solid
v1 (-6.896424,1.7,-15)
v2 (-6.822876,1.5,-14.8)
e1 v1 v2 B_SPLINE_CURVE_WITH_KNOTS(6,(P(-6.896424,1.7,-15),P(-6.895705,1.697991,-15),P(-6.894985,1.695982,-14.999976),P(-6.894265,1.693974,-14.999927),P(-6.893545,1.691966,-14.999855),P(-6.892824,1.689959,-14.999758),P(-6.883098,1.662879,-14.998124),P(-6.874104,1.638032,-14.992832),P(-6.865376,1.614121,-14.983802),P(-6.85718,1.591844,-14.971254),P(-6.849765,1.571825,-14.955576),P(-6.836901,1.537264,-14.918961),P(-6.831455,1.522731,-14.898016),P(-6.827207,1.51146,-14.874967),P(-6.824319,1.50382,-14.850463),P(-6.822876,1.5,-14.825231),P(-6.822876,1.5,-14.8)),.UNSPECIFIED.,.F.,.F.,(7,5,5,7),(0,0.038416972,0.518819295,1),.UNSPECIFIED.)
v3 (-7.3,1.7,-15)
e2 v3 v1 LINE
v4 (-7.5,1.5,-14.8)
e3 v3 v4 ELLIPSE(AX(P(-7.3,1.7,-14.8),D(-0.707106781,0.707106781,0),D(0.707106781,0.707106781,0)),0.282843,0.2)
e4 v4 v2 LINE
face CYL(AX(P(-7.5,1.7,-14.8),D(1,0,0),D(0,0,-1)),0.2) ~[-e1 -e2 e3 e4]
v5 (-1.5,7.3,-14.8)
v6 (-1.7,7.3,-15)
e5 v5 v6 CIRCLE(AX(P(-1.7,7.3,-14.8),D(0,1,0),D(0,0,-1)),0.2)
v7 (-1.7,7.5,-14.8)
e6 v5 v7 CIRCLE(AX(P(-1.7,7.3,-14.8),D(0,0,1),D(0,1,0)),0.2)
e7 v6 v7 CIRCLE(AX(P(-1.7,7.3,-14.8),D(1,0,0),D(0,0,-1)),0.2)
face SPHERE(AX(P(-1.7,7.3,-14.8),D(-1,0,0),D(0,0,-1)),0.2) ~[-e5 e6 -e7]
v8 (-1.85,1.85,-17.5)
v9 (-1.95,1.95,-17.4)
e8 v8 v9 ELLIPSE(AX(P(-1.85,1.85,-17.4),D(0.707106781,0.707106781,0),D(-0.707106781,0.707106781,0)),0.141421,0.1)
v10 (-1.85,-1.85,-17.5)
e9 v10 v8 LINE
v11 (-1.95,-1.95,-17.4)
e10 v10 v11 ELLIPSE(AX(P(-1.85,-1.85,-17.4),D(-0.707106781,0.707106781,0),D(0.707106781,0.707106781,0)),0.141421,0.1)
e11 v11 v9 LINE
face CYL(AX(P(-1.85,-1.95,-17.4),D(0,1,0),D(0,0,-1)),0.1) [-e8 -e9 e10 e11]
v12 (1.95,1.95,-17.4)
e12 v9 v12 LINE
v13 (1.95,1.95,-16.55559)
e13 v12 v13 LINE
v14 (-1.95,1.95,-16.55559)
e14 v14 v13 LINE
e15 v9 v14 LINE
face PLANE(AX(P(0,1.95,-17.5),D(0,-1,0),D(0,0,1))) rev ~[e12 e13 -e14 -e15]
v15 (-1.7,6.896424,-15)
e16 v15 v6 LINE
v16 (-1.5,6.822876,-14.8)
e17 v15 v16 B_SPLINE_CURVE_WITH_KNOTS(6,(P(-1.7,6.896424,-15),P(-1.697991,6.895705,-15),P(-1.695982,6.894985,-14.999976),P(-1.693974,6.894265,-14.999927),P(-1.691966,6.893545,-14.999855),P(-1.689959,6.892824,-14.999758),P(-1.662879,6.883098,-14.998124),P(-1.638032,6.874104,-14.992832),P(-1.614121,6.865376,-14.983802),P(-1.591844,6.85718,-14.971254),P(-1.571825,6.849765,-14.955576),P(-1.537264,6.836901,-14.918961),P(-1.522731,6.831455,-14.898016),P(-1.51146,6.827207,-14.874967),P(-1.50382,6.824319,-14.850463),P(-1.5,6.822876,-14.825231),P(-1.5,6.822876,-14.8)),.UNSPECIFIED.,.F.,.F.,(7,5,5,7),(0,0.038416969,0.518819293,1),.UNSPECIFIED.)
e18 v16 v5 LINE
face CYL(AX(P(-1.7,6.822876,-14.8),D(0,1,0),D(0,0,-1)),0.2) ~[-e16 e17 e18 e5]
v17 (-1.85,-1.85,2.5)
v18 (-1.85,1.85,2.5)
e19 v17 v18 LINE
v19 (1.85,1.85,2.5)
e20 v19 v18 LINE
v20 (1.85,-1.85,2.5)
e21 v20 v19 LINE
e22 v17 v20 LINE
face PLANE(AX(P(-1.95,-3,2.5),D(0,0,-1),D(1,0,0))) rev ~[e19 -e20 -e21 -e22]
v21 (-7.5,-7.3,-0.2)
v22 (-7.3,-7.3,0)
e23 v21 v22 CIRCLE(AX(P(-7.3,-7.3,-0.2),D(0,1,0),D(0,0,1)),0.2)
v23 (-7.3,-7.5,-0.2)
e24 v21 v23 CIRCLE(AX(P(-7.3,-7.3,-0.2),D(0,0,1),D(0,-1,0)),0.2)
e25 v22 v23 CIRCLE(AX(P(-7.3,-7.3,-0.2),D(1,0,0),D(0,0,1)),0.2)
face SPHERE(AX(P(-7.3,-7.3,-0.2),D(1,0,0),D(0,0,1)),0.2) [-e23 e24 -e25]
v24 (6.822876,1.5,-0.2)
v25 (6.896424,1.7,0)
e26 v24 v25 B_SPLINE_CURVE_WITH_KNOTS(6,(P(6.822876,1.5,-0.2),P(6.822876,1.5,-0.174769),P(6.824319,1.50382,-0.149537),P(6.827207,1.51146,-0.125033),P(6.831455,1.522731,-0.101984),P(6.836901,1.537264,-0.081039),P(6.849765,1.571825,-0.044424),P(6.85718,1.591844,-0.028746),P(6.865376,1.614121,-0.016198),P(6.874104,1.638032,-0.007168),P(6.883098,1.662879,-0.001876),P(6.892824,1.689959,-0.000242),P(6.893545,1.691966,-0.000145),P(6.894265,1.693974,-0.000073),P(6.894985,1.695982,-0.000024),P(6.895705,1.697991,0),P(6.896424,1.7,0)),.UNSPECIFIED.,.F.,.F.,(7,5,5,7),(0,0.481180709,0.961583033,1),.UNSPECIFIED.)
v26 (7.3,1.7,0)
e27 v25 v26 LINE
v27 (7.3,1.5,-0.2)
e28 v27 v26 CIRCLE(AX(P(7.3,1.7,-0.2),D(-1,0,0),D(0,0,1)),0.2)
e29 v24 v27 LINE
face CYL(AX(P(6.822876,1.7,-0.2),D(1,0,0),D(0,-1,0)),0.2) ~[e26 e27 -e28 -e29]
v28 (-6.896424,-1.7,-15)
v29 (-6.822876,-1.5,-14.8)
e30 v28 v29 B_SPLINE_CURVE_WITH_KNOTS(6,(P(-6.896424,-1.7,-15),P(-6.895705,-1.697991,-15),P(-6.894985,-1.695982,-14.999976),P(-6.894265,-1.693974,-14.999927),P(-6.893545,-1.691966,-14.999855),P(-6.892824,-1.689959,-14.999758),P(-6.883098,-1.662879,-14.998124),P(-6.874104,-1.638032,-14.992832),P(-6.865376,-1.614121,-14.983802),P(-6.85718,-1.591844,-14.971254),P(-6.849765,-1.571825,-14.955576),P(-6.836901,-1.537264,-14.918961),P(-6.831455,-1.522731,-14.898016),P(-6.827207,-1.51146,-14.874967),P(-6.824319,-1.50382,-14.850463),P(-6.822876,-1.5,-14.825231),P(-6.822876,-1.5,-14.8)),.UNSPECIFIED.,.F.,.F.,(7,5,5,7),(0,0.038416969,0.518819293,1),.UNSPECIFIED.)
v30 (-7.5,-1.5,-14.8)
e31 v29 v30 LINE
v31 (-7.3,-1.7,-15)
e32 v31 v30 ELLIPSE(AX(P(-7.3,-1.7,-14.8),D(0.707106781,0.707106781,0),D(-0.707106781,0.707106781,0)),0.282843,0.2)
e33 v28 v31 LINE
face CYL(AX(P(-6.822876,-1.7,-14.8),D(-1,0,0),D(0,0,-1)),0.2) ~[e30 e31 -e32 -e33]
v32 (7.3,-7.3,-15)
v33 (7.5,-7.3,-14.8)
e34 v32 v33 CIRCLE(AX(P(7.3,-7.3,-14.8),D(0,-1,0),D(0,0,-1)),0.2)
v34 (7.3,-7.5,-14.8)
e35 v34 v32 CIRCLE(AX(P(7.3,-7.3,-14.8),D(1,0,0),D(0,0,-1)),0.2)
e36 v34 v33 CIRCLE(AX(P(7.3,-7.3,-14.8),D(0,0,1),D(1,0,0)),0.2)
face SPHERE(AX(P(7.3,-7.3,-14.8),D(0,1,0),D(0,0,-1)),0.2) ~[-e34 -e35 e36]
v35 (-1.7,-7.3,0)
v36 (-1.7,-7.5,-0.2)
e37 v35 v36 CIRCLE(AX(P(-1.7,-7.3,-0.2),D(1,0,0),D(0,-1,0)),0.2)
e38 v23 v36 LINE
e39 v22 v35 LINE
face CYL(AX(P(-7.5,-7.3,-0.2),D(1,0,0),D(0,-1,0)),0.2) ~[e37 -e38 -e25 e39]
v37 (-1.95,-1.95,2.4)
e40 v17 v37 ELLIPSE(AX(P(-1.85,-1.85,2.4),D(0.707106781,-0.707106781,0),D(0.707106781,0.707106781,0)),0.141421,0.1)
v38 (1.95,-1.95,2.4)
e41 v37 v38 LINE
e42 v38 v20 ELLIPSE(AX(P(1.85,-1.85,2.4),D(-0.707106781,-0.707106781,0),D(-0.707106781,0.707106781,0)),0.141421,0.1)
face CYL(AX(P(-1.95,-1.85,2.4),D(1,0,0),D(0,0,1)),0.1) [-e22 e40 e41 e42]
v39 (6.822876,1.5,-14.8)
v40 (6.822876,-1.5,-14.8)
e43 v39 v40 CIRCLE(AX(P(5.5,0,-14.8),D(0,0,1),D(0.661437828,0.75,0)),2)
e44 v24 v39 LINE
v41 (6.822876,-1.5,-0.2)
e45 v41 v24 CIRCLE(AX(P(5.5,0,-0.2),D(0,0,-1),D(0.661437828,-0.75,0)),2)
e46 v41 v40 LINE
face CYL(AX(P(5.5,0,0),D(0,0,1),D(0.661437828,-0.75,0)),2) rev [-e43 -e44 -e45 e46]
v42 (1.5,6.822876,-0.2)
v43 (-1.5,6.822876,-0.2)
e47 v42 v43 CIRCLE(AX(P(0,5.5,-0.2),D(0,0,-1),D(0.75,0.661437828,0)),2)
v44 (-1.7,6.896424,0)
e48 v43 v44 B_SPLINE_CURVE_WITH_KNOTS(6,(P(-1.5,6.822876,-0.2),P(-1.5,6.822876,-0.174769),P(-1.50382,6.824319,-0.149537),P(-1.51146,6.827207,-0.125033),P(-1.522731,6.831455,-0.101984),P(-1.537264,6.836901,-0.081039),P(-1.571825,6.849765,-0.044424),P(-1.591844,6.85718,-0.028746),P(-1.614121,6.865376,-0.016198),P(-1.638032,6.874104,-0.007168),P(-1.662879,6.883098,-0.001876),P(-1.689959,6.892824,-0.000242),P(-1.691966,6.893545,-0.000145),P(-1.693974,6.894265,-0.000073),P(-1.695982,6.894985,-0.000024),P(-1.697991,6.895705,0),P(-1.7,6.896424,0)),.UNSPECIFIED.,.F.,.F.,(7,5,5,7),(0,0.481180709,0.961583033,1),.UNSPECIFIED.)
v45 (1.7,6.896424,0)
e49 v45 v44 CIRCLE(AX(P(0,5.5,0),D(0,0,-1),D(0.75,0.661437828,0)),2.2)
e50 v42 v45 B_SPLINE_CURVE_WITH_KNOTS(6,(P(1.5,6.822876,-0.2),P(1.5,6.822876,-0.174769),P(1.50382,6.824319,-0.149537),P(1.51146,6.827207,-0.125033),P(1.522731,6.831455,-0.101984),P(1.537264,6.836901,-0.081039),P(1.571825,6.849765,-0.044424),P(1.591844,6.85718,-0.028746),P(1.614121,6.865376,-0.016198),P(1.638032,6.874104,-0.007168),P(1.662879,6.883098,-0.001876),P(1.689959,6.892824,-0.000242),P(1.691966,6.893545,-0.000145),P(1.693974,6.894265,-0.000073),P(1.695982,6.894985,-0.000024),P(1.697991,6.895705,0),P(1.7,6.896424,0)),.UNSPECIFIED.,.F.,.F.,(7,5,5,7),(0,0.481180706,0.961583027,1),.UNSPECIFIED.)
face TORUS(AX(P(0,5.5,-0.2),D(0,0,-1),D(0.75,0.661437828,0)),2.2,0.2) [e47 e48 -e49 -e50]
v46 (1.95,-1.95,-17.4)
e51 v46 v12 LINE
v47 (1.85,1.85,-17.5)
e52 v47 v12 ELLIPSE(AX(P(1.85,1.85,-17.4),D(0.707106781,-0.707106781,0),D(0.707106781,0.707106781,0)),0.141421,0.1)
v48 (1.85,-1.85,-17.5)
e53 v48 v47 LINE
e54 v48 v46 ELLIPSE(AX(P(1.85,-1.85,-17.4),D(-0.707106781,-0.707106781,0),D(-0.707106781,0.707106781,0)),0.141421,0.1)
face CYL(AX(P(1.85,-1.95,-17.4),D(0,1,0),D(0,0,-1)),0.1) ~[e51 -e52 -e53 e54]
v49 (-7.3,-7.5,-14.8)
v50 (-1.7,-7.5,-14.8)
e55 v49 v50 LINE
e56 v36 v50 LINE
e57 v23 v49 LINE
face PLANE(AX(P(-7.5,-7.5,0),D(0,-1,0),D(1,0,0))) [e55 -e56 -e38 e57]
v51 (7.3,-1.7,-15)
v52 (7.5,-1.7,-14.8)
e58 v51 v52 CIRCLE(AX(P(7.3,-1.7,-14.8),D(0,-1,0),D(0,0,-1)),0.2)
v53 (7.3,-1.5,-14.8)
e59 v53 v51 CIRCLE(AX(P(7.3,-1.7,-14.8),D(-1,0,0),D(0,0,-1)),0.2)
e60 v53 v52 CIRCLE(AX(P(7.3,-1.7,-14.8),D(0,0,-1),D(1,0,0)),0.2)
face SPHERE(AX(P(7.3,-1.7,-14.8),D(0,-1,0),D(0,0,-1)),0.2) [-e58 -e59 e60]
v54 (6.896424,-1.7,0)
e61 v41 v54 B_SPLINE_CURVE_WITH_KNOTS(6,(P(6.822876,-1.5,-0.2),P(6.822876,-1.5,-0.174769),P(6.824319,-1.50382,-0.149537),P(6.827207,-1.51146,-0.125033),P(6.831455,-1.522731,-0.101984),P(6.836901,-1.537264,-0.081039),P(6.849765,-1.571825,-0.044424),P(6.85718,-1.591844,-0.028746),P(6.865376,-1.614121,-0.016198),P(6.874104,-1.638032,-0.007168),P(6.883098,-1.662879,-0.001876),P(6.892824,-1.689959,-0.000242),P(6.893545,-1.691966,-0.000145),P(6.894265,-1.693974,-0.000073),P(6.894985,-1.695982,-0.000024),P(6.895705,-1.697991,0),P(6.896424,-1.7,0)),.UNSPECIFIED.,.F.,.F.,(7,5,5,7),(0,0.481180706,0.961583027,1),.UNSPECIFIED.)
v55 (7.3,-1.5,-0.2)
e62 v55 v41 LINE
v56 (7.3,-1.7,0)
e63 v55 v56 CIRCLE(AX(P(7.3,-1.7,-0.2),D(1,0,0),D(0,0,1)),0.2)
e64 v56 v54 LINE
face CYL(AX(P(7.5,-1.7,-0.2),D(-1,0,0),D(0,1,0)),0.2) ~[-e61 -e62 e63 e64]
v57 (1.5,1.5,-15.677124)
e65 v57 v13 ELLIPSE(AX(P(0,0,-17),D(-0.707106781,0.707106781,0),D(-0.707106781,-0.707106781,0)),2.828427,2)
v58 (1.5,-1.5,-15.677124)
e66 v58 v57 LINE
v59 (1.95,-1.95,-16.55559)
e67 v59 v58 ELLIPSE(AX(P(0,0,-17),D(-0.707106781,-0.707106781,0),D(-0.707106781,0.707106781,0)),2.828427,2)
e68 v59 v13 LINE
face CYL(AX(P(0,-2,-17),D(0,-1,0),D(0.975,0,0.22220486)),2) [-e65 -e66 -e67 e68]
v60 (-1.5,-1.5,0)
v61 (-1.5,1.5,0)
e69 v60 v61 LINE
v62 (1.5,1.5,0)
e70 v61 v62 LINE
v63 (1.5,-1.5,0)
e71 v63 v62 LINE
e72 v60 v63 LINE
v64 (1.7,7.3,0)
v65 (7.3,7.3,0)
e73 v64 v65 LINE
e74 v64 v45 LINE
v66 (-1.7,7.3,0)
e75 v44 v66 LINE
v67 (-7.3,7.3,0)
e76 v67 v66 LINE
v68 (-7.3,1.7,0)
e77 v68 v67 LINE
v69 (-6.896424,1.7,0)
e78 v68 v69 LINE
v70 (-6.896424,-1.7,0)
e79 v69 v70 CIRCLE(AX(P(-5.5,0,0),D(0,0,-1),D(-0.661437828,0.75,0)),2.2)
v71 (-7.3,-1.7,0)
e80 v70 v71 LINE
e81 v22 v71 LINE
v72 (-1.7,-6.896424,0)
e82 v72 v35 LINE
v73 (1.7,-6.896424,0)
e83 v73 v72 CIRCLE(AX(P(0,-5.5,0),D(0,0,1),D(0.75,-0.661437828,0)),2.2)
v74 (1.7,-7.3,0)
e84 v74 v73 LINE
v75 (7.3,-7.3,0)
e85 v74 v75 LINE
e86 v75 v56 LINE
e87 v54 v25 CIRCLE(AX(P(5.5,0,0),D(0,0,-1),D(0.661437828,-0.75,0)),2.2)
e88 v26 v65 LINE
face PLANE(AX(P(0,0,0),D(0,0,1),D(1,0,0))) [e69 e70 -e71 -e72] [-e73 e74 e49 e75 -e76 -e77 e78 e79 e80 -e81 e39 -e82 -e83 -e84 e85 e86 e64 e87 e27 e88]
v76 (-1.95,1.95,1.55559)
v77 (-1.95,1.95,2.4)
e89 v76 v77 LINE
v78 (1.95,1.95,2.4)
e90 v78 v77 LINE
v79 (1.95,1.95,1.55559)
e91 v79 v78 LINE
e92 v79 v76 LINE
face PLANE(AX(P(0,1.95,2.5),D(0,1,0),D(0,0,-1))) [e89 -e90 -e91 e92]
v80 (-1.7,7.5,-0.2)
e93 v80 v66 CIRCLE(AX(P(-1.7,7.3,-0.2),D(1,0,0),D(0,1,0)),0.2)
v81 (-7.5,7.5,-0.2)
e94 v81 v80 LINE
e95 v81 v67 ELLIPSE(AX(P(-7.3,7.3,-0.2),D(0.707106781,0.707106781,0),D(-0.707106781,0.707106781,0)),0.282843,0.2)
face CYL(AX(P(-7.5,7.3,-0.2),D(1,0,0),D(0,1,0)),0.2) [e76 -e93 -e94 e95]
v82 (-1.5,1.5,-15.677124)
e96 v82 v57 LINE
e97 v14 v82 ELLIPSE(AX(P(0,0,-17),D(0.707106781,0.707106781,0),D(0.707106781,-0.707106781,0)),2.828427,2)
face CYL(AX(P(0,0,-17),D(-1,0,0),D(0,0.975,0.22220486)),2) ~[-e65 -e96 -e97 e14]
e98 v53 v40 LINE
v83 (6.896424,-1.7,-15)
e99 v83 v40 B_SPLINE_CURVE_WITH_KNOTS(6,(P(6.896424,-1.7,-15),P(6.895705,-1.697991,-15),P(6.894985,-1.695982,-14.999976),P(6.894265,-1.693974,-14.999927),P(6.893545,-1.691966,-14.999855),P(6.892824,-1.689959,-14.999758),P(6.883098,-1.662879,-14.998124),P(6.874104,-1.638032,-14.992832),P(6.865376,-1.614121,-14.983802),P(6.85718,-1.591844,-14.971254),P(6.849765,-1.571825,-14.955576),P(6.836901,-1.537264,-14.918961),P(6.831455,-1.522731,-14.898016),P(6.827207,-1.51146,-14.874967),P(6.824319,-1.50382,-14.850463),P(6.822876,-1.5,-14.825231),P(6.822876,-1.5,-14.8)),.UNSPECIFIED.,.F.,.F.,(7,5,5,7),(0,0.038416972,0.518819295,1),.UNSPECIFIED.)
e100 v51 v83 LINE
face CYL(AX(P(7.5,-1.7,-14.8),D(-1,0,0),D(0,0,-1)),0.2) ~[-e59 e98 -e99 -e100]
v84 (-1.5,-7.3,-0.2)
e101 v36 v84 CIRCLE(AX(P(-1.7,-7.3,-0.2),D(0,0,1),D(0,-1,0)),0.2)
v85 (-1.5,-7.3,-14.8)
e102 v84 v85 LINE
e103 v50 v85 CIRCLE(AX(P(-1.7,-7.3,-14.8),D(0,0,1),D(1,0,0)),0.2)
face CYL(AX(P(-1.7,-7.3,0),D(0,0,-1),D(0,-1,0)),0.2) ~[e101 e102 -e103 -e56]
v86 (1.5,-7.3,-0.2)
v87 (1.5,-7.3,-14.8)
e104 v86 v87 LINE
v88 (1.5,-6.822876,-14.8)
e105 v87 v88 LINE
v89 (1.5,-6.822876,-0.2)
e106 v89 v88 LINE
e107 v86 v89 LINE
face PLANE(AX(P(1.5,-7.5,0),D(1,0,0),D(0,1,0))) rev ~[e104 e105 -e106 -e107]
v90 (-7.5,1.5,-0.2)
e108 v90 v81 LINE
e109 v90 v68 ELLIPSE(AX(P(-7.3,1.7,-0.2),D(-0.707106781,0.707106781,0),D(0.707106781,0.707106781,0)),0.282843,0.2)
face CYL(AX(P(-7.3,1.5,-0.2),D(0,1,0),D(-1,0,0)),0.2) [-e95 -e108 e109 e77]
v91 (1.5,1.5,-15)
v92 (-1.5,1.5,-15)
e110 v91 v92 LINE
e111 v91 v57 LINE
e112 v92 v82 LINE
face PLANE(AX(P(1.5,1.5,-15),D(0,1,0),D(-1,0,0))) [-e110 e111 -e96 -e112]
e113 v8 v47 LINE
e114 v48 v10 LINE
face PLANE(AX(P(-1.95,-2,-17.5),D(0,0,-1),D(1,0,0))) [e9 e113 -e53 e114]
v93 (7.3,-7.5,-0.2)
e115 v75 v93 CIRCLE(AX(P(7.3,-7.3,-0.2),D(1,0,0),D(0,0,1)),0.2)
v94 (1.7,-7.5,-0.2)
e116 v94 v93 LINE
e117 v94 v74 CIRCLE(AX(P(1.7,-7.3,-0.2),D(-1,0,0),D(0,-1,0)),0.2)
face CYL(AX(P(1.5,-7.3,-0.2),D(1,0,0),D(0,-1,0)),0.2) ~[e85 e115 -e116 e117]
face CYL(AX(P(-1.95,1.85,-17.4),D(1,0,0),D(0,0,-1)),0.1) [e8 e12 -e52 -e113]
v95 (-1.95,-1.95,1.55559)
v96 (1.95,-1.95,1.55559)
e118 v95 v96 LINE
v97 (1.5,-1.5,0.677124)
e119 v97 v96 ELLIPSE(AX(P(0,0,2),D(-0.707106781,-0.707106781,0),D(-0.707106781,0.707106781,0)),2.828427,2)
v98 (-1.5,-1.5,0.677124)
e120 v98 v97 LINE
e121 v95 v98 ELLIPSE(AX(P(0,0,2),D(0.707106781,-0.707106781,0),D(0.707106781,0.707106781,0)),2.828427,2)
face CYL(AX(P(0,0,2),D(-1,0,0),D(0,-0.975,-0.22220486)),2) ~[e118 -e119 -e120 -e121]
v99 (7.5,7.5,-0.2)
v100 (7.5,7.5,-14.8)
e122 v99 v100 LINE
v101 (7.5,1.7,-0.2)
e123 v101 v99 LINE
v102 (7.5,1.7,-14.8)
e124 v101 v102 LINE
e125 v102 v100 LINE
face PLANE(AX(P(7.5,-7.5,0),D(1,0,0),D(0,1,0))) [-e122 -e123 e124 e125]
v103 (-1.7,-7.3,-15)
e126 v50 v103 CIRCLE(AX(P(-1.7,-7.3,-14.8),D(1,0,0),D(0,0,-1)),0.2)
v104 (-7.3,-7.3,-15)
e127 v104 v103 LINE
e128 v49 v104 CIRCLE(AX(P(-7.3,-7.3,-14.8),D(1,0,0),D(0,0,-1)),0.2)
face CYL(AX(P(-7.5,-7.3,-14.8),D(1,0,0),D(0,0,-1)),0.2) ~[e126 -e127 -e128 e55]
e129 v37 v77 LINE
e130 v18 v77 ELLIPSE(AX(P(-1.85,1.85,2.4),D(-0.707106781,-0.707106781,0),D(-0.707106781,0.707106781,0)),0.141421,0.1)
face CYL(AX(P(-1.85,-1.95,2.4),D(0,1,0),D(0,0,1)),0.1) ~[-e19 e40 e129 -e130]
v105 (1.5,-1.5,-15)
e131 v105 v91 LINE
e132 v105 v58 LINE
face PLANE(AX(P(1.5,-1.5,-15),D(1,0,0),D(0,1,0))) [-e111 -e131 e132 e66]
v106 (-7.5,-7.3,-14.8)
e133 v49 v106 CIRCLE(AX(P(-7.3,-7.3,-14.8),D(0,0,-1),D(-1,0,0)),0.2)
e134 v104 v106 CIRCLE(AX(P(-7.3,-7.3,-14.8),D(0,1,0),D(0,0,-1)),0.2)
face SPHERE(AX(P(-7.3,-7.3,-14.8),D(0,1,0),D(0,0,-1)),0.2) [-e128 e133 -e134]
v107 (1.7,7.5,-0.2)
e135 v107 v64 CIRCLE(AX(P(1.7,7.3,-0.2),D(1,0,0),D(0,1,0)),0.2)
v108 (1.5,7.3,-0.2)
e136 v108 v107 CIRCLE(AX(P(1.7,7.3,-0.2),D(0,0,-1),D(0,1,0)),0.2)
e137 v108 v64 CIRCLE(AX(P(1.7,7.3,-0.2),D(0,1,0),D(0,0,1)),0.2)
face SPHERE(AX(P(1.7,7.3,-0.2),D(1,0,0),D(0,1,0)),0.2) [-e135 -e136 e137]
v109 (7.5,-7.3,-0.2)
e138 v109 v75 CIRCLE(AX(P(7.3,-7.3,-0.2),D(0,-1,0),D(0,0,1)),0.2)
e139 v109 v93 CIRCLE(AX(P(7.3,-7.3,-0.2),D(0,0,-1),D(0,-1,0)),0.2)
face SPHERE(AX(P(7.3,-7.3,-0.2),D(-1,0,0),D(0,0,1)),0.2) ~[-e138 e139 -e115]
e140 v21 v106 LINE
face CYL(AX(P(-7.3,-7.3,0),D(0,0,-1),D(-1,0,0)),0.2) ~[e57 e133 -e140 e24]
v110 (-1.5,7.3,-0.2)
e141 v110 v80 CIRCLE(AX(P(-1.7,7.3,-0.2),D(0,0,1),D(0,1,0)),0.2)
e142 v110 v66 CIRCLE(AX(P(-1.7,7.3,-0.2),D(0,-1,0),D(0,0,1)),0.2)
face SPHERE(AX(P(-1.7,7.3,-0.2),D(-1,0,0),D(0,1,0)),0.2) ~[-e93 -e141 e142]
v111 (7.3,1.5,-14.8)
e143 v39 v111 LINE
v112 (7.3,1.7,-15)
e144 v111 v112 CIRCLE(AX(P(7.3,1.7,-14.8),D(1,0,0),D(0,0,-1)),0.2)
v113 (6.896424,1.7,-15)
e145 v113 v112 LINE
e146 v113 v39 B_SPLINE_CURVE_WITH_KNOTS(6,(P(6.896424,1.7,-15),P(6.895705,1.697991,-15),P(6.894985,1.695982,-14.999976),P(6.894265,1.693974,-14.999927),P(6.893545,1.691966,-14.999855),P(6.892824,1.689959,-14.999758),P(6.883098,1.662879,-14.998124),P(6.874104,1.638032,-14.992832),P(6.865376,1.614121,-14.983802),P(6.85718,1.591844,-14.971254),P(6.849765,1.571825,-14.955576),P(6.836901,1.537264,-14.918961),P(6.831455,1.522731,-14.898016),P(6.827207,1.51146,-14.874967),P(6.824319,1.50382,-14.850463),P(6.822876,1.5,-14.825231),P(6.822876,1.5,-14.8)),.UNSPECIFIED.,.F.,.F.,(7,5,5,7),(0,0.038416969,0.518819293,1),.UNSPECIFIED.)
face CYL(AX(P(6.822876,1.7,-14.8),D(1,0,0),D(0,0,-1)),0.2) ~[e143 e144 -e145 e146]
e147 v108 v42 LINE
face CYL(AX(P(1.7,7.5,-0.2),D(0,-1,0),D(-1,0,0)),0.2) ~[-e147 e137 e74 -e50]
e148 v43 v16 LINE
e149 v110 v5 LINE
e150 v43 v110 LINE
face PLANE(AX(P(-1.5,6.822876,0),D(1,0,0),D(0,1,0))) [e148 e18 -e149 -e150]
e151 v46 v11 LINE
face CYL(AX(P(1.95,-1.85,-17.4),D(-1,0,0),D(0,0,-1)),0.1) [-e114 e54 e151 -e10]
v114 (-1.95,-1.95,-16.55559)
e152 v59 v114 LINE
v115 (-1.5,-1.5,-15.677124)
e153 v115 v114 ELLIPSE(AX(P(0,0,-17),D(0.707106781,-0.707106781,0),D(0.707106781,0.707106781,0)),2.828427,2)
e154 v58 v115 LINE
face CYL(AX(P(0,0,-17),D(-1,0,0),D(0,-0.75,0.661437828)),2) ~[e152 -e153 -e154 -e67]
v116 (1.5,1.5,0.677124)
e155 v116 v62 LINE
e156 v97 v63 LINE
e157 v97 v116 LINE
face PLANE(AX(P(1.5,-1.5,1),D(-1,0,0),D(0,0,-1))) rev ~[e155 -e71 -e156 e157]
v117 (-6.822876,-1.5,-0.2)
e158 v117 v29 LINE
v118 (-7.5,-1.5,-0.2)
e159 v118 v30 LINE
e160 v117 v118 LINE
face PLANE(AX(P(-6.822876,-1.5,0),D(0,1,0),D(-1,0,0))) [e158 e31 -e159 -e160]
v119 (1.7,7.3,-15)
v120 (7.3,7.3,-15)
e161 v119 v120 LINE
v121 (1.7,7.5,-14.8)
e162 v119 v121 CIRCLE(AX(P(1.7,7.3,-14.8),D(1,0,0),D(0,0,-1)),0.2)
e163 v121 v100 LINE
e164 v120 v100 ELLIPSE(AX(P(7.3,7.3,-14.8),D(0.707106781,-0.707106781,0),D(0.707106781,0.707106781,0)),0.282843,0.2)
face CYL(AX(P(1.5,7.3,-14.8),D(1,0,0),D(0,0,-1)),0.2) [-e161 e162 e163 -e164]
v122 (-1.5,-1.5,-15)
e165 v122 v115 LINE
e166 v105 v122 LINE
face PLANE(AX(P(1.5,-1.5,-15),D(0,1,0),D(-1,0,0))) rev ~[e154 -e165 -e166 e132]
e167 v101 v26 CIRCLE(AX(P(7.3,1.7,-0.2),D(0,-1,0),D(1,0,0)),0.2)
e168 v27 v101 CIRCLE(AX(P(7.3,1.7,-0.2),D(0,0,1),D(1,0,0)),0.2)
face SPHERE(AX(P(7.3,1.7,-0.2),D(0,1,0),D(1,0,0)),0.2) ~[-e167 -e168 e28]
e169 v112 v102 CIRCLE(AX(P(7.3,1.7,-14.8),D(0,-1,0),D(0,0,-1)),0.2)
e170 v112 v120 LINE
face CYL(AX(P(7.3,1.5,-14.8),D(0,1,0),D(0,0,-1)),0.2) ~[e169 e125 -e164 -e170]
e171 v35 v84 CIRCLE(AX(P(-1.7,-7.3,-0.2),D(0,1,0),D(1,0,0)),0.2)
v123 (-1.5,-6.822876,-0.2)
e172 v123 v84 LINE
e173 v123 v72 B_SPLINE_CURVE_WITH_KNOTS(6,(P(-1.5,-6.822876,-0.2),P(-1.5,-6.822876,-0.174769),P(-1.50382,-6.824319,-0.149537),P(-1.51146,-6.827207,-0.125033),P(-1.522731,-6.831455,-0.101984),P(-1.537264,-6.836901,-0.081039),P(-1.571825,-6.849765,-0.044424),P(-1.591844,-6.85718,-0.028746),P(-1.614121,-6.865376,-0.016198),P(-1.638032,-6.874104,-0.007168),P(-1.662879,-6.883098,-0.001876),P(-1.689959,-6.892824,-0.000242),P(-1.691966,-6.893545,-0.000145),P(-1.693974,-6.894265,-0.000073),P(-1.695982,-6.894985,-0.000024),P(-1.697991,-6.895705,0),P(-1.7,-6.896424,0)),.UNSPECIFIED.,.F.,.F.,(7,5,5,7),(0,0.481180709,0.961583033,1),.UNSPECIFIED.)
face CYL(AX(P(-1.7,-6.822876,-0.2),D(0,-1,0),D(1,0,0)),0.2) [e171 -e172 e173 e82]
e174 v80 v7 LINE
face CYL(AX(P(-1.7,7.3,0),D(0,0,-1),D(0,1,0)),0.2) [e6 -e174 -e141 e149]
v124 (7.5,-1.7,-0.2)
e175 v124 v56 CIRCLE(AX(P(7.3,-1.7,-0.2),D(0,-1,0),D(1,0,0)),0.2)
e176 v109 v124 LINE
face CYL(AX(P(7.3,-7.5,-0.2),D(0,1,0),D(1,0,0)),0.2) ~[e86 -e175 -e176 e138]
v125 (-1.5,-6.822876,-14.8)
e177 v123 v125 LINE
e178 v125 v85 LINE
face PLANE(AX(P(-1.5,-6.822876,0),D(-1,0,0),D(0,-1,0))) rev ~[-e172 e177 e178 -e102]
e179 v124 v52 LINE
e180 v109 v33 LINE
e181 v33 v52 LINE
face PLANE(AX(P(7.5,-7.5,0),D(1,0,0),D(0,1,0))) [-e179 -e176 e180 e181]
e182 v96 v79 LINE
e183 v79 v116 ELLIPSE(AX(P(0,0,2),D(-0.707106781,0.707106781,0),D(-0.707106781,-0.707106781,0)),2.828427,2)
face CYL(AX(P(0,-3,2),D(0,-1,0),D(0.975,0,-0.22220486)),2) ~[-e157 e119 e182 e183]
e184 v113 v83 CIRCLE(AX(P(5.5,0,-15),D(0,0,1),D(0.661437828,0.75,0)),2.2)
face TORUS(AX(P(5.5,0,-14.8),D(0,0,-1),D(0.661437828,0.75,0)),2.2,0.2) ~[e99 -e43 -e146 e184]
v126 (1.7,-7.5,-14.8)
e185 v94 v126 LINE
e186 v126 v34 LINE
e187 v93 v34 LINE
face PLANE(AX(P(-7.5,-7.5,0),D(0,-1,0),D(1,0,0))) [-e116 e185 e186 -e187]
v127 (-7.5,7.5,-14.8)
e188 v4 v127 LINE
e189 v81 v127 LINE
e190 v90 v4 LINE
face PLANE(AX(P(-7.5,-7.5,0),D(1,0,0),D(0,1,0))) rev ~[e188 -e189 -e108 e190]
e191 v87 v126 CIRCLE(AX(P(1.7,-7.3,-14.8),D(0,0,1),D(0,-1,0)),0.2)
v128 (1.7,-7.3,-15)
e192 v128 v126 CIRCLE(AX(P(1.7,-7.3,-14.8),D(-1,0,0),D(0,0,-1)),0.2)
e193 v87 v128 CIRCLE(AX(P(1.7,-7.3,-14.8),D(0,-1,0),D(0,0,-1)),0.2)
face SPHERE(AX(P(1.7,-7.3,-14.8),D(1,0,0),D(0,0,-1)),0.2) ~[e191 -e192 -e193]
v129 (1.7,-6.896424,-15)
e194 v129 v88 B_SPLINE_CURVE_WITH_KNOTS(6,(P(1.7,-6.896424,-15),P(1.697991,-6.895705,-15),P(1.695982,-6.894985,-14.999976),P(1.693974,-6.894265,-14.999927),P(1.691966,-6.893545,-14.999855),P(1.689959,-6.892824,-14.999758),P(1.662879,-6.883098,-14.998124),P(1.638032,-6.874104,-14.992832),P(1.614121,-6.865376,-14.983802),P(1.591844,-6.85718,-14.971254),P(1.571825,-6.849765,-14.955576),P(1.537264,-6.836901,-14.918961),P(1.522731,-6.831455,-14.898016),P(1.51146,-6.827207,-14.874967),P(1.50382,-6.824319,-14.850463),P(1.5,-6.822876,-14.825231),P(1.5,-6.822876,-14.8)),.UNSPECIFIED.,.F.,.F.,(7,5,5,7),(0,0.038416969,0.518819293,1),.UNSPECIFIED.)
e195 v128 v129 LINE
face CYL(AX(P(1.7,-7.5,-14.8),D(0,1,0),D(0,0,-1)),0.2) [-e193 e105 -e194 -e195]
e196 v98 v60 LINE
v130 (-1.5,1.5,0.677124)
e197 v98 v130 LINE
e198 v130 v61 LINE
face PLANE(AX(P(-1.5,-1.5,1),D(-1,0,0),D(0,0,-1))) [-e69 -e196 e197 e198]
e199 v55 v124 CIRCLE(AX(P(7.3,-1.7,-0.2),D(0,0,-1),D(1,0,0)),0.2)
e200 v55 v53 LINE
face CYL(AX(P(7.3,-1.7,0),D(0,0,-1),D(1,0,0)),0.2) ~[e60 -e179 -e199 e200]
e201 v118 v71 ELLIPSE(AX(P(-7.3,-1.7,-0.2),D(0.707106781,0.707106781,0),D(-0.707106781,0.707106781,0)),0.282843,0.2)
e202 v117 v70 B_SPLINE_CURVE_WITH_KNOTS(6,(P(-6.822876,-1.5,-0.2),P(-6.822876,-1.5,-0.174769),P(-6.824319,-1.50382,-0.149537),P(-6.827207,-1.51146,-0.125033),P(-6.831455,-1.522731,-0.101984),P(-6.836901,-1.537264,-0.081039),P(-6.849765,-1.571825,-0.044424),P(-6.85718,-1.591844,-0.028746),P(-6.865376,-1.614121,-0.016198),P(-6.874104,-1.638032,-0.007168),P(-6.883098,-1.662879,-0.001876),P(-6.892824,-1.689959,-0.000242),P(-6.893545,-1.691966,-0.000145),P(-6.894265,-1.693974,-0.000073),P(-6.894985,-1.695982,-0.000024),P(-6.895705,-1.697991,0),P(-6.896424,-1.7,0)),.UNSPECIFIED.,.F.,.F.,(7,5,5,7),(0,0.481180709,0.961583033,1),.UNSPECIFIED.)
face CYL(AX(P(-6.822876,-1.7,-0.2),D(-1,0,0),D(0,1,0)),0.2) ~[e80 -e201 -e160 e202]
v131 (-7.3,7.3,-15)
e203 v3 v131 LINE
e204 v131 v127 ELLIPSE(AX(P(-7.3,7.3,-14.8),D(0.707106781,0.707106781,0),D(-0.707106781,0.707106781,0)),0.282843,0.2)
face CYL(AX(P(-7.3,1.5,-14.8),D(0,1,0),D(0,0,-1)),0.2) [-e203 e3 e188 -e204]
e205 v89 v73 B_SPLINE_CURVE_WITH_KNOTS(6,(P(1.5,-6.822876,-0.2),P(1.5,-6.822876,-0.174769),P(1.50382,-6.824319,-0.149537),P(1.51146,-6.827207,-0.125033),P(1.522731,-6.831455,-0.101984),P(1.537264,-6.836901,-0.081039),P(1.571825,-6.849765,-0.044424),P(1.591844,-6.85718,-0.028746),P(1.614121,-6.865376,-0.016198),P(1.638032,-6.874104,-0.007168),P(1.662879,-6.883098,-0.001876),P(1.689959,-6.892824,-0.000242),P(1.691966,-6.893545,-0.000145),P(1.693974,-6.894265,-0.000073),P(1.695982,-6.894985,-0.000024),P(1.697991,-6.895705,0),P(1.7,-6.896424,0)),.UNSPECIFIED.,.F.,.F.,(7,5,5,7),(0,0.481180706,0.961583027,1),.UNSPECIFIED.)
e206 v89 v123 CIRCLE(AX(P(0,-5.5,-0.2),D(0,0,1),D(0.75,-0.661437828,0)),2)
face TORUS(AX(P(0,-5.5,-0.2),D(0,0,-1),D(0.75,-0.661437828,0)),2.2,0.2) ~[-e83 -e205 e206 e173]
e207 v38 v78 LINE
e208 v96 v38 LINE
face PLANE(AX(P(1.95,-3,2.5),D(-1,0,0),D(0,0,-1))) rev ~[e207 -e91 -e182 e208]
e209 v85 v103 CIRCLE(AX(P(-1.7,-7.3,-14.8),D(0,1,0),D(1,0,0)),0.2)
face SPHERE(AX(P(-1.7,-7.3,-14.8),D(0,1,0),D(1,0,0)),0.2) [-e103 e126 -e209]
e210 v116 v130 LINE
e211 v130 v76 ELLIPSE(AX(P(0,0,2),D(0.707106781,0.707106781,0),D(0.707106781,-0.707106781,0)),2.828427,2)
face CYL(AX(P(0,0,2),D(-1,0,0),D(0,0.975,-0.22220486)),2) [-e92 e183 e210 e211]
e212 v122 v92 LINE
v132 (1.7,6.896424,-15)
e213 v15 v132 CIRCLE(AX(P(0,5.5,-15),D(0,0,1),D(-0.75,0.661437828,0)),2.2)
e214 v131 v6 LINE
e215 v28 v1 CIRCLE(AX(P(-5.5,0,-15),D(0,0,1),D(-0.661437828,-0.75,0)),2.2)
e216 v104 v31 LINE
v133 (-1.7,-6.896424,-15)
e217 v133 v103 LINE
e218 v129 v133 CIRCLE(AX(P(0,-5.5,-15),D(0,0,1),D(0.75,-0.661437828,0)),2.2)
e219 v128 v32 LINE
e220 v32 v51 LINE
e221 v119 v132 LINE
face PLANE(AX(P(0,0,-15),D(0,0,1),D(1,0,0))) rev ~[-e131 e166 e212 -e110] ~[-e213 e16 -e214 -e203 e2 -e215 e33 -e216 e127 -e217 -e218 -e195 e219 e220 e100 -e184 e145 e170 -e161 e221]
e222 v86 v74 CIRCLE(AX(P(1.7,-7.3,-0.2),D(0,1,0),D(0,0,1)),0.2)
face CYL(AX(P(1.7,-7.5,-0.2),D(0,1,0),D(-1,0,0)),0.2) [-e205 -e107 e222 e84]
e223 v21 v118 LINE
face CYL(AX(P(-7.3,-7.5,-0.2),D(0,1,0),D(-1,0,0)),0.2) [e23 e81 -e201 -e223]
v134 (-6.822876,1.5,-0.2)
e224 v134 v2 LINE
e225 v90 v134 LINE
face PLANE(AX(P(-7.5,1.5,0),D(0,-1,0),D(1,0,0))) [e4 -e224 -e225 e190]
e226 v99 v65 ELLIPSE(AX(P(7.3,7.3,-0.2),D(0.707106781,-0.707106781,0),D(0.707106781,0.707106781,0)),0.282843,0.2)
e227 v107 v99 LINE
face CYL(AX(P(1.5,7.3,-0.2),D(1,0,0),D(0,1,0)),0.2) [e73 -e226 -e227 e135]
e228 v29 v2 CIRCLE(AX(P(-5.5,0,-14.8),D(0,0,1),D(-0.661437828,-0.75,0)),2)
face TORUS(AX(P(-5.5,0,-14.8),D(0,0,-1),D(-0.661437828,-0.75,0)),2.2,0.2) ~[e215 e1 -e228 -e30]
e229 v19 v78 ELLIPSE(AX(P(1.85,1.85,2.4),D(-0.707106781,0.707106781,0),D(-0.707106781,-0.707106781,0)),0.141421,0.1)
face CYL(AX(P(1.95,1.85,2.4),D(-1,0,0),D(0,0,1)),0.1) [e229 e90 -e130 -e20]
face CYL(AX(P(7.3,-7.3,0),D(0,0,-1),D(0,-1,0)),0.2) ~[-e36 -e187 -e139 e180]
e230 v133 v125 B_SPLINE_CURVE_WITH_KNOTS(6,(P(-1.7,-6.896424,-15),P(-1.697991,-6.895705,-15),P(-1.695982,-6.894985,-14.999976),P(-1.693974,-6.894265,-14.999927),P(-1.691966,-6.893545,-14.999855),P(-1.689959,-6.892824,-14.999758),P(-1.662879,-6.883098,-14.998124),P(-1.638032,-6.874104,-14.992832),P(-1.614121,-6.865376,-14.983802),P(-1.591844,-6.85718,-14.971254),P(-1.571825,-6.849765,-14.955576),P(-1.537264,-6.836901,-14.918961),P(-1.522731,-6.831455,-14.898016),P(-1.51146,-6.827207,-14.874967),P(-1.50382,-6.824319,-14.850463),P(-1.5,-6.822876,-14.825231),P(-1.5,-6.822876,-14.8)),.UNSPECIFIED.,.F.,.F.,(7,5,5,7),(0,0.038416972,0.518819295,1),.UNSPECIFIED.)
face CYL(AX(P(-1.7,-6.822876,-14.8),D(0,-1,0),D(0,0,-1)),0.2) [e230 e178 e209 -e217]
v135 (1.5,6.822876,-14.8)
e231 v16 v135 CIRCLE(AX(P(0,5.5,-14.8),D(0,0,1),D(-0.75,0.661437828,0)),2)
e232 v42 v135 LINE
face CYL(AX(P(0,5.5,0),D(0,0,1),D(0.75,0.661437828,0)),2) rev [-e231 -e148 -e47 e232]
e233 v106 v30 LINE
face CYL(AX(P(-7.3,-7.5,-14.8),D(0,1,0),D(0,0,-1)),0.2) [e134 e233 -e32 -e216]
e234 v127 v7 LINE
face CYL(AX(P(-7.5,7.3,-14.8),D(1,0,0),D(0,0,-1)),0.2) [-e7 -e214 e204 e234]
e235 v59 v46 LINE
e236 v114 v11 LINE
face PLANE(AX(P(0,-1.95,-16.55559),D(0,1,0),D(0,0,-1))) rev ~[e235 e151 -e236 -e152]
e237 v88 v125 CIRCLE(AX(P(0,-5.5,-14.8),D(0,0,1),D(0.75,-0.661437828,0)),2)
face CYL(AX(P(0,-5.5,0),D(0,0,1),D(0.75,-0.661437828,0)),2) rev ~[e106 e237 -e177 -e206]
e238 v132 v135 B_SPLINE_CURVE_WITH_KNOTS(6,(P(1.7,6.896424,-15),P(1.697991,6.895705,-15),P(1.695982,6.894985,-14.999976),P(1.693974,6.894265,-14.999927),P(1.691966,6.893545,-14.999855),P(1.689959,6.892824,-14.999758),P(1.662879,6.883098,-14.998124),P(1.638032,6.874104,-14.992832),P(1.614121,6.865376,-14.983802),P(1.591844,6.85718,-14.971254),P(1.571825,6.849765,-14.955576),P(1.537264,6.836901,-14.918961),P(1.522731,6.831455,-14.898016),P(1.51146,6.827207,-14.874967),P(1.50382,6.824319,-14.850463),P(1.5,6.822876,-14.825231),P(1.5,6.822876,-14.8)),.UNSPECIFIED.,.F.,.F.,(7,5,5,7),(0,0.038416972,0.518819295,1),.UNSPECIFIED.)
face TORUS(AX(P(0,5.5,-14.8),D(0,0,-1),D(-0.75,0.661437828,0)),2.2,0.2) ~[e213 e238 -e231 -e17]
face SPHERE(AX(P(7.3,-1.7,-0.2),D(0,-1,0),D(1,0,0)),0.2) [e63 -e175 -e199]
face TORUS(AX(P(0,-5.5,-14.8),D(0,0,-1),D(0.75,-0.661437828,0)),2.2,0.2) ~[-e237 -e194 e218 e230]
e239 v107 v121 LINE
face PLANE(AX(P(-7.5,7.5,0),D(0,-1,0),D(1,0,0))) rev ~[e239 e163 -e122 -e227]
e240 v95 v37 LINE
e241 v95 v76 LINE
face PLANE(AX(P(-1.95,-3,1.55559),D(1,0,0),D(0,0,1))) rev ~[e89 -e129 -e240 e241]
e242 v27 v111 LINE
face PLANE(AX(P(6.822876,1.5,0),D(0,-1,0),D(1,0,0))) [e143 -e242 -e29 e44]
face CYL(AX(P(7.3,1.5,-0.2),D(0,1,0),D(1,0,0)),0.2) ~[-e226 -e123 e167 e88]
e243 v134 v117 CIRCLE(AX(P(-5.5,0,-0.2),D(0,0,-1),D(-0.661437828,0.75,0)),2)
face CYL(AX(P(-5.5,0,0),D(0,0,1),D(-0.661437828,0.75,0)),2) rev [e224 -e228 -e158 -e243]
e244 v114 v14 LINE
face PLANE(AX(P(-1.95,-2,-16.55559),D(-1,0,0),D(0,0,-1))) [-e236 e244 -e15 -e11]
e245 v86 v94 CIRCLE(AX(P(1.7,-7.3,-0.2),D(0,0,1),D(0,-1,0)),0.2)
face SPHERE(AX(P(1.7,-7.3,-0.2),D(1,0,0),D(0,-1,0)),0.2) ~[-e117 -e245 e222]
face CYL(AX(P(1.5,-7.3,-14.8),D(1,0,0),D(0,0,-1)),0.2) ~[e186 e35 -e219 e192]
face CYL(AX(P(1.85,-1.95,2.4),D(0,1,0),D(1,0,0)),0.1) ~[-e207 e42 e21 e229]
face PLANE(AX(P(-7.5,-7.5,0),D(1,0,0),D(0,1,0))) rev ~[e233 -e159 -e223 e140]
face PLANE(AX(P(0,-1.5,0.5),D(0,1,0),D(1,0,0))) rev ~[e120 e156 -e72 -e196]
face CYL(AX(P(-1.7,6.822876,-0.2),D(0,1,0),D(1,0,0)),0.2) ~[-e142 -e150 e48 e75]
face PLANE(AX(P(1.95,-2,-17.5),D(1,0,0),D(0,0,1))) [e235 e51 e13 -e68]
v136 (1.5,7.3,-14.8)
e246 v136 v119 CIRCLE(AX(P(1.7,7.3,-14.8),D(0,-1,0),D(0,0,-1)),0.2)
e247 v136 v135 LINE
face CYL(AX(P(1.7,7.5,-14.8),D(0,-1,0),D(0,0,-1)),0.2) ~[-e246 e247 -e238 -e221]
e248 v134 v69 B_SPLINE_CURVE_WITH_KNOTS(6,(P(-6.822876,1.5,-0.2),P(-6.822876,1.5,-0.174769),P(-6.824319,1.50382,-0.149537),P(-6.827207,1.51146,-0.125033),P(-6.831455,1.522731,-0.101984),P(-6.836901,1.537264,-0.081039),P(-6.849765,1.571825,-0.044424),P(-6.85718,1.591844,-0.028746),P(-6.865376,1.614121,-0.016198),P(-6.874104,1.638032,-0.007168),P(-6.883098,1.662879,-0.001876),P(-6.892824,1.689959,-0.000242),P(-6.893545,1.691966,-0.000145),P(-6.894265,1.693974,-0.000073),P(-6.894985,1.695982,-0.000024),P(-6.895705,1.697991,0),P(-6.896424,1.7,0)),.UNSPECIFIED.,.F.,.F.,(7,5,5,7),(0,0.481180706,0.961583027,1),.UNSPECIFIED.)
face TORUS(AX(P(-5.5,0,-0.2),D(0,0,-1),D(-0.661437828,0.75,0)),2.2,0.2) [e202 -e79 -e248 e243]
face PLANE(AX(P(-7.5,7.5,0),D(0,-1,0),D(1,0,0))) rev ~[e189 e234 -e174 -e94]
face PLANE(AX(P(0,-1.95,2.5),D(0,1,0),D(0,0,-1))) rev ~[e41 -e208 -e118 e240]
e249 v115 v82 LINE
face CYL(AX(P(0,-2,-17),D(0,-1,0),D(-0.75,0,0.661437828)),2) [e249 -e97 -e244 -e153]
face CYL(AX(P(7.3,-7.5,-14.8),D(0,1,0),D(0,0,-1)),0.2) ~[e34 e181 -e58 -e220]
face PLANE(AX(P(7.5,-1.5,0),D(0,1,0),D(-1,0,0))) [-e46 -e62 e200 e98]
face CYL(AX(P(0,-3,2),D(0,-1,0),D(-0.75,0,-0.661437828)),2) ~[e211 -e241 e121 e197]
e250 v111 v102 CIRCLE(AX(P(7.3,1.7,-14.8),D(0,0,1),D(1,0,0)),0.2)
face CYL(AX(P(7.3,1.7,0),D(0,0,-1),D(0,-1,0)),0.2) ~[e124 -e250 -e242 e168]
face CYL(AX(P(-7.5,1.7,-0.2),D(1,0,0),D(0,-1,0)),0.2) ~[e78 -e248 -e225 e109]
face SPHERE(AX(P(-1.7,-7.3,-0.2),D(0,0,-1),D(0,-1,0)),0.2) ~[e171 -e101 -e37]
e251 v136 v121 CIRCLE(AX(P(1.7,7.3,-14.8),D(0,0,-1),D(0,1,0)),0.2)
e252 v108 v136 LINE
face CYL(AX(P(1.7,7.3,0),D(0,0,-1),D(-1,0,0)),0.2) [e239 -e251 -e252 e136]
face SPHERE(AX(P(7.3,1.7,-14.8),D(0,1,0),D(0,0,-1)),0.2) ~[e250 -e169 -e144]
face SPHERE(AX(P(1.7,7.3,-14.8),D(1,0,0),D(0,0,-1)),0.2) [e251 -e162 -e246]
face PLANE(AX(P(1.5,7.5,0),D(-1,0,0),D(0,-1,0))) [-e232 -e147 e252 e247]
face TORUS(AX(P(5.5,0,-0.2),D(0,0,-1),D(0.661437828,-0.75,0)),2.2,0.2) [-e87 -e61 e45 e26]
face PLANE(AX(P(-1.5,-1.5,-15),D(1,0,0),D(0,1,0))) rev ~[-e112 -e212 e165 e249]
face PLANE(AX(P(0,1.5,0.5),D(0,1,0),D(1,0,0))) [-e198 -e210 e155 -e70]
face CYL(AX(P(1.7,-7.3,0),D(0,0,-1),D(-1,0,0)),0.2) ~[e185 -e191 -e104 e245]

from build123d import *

# Parameters (mm, degrees)
SKETCH_1_W                      = 15
SKETCH_1_H                      = 15
EXTRUDE_1_DEPTH                 = 15
EXTRUDE_2_DEPTH                 = 1.5
EXTRUDE_2_DEPTH_BACK            = 1.5
SKETCH_2_W                      = 3
SKETCH_2_H                      = 1
EXTRUDE_3_DEPTH                 = 3
EXTRUDE_3_DEPTH_BACK            = 3
CUT_EXTRUDE_2_DEPTH             = 19.371173071
CUT_EXTRUDE_7_REACH             = 20.371
CUT_EXTRUDE_7_DIRECTION_2_REACH = 20.371
SKETCH_13_W                     = 3
SKETCH_13_H                     = 3
EXTRUDE_4_DEPTH                 = 1
EXTRUDE_5_DEPTH                 = 2
EXTRUDE_5_DEPTH_BACK            = 2
CUT_EXTRUDE_8_REACH             = 22.463
CUT_EXTRUDE_8_DIRECTION_2_REACH = 22.463
FILLET_2_R                      = 0.1
FILLET_3_R                      = 0.2


with BuildPart() as part:
    # 草图1 → 凸台-拉伸1 (new body)
    with BuildSketch(Plane.XY):
        Rectangle(SKETCH_1_W, SKETCH_1_H)
    extrude(amount=-EXTRUDE_1_DEPTH)

    # 草图2 → 凸台-拉伸2 (add, two sides: drawn at the far end of the back side and taken through both)
    with BuildSketch(Plane(origin=(0, 0, 0), x_dir=(1, 0, 0), z_dir=(0, 1, 0)).offset(-EXTRUDE_2_DEPTH_BACK)):
        with Locations((0, -0.5)):
            Rectangle(SKETCH_2_W, SKETCH_2_H)
    extrude(amount=EXTRUDE_2_DEPTH + EXTRUDE_2_DEPTH_BACK)

    # 草图3 → 凸台-拉伸3 (add, two sides: drawn at the far end of the back side and taken through both)
    with BuildSketch(Plane(origin=(0, 0, 0), x_dir=(1, 0, 0), z_dir=(0, 1, 0)).offset(-EXTRUDE_3_DEPTH_BACK)):
        with BuildLine():
            Line((-1.95, -2.5), (1.95, -2.5))
            Line((1.95, -2.5), (1.95, -1.555590279))
            ThreePointArc((1.95, -1.555590279), (1.780042303, -1.088161527), (1.5, -0.677124344))
            Line((1.5, -0.677124344), (-1.5, -0.677124344))
            ThreePointArc((-1.5, -0.677124344), (-1.780042303, -1.088161527), (-1.95, -1.555590279))
            Line((-1.95, -1.555590279), (-1.95, -2.5))
        make_face()
    extrude(amount=EXTRUDE_3_DEPTH + EXTRUDE_3_DEPTH_BACK)

    # 草图5 → 切除-拉伸2 (cut, through all)
    with BuildSketch(Plane.XY):
        with BuildLine():
            Line((-1.5, -7.5), (1.5, -7.5))
            Line((1.5, -7.5), (1.5, -6.822875656))
            ThreePointArc((1.5, -6.822875656), (0, -3.5), (-1.5, -6.822875656))
            Line((-1.5, -6.822875656), (-1.5, -7.5))
        make_face()
        with BuildLine():
            Line((1.5, 7.5), (1.5, 6.822875656))
            ThreePointArc((1.5, 6.822875656), (0, 3.5), (-1.5, 6.822875656))
            Line((-1.5, 6.822875656), (-1.5, 7.5))
            Line((-1.5, 7.5), (1.5, 7.5))
        make_face()
        with BuildLine():
            Line((-7.5, 1.5), (-6.822875656, 1.5))
            ThreePointArc((-6.822875656, 1.5), (-3.5, 0), (-6.822875656, -1.5))
            Line((-6.822875656, -1.5), (-7.5, -1.5))
            Line((-7.5, -1.5), (-7.5, 1.5))
        make_face()
        with BuildLine():
            Line((7.5, -1.5), (6.822875656, -1.5))
            ThreePointArc((6.822875656, -1.5), (3.5, 0), (6.822875656, 1.5))
            Line((6.822875656, 1.5), (7.5, 1.5))
            Line((7.5, 1.5), (7.5, -1.5))
        make_face()
    extrude(amount=-CUT_EXTRUDE_2_DEPTH, mode=Mode.SUBTRACT)

    # 草图12 → 切除-拉伸7 (cut, up to next)
    with BuildSketch(Plane(origin=(0, 0, 0), x_dir=(0, 0, -1), z_dir=(1, 0, 0)), mode=Mode.PRIVATE) as cut_extrude_7_sk1:
        with BuildLine():
            Line((-2.5, 3), (-2.5, 1.95))
            Line((-2.5, 1.95), (-1.555590279, 1.95))
            ThreePointArc((-1.555590279, 1.95), (-1.088161527, 1.780042303), (-0.677124344, 1.5))
            Line((-0.677124344, 1.5), (-0.677124344, 3))
            Line((-0.677124344, 3), (-2.5, 3))
        make_face()
    cut_extrude_7_tool1 = extrude(cut_extrude_7_sk1.sketch, amount=-CUT_EXTRUDE_7_REACH, mode=Mode.PRIVATE) & part.part
    # 草图12 → 切除-拉伸7 (cut, up to next)
    with BuildSketch(Plane(origin=(0, 0, 0), x_dir=(0, 0, -1), z_dir=(1, 0, 0)), mode=Mode.PRIVATE) as cut_extrude_7_sk2:
        with BuildLine():
            Line((-2.5, -1.95), (-1.555590279, -1.95))
            ThreePointArc((-1.555590279, -1.95), (-1.088161527, -1.780042303), (-0.677124344, -1.5))
            Line((-0.677124344, -1.5), (-0.677124344, -3))
            Line((-0.677124344, -3), (-2.5, -3))
            Line((-2.5, -3), (-2.5, -1.95))
        make_face()
    cut_extrude_7_tool2 = extrude(cut_extrude_7_sk2.sketch, amount=-CUT_EXTRUDE_7_REACH, mode=Mode.PRIVATE) & part.part
    add(cut_extrude_7_tool1.solids().sort_by_distance((0, 2.424924, 1.539049))[0], mode=Mode.SUBTRACT)
    add(cut_extrude_7_tool2.solids().sort_by_distance((0, -2.424924, 1.539049))[0], mode=Mode.SUBTRACT)

    # 草图12 → 切除-拉伸7 direction 2 (cut, up to next)
    with BuildSketch(Plane(origin=(0, 0, 0), x_dir=(0, 0, -1), z_dir=(1, 0, 0)), mode=Mode.PRIVATE) as cut_extrude_7_direction_2_sk1:
        with BuildLine():
            Line((-2.5, 3), (-2.5, 1.95))
            Line((-2.5, 1.95), (-1.555590279, 1.95))
            ThreePointArc((-1.555590279, 1.95), (-1.088161527, 1.780042303), (-0.677124344, 1.5))
            Line((-0.677124344, 1.5), (-0.677124344, 3))
            Line((-0.677124344, 3), (-2.5, 3))
        make_face()
    cut_extrude_7_direction_2_tool1 = extrude(cut_extrude_7_direction_2_sk1.sketch, amount=CUT_EXTRUDE_7_DIRECTION_2_REACH, mode=Mode.PRIVATE) & part.part
    # 草图12 → 切除-拉伸7 direction 2 (cut, up to next)
    with BuildSketch(Plane(origin=(0, 0, 0), x_dir=(0, 0, -1), z_dir=(1, 0, 0)), mode=Mode.PRIVATE) as cut_extrude_7_direction_2_sk2:
        with BuildLine():
            Line((-2.5, -1.95), (-1.555590279, -1.95))
            ThreePointArc((-1.555590279, -1.95), (-1.088161527, -1.780042303), (-0.677124344, -1.5))
            Line((-0.677124344, -1.5), (-0.677124344, -3))
            Line((-0.677124344, -3), (-2.5, -3))
            Line((-2.5, -3), (-2.5, -1.95))
        make_face()
    cut_extrude_7_direction_2_tool2 = extrude(cut_extrude_7_direction_2_sk2.sketch, amount=CUT_EXTRUDE_7_DIRECTION_2_REACH, mode=Mode.PRIVATE) & part.part
    add(cut_extrude_7_direction_2_tool1.solids().sort_by_distance((0, 2.424924, 1.539049))[0], mode=Mode.SUBTRACT)
    add(cut_extrude_7_direction_2_tool2.solids().sort_by_distance((0, -2.424924, 1.539049))[0], mode=Mode.SUBTRACT)

    # 草图13 → 凸台-拉伸4 (add)
    with BuildSketch(Plane(origin=(0, 0, -15), x_dir=(-1, 0, 0), z_dir=(0, 0, -1))):
        Rectangle(SKETCH_13_W, SKETCH_13_H)
    extrude(amount=EXTRUDE_4_DEPTH)

    # 草图14 → 凸台-拉伸5 (add, two sides: drawn at the far end of the back side and taken through both)
    with BuildSketch(Plane(origin=(0, 0, 0), x_dir=(1, 0, 0), z_dir=(0, 1, 0)).offset(-EXTRUDE_5_DEPTH_BACK)):
        with BuildLine():
            Line((-1.95, 17.5), (1.95, 17.5))
            Line((1.95, 17.5), (1.95, 16.555590279))
            ThreePointArc((1.95, 16.555590279), (1.780042303, 16.088161527), (1.5, 15.677124344))
            Line((1.5, 15.677124344), (-1.5, 15.677124344))
            ThreePointArc((-1.5, 15.677124344), (-1.780042303, 16.088161527), (-1.95, 16.555590279))
            Line((-1.95, 16.555590279), (-1.95, 17.5))
        make_face()
    extrude(amount=EXTRUDE_5_DEPTH + EXTRUDE_5_DEPTH_BACK)

    # 草图15 → 切除-拉伸8 (cut, up to next)
    with BuildSketch(Plane(origin=(0, 0, 0), x_dir=(0, 0, -1), z_dir=(1, 0, 0)), mode=Mode.PRIVATE) as cut_extrude_8_sk1:
        with BuildLine():
            Line((17.5, 2), (17.5, 1.95))
            Line((17.5, 1.95), (16.555590279, 1.95))
            ThreePointArc((16.555590279, 1.95), (16.088161527, 1.780042303), (15.677124344, 1.5))
            Line((15.677124344, 1.5), (15.677124344, 2))
            Line((15.677124344, 2), (17.5, 2))
        make_face()
    cut_extrude_8_tool1 = extrude(cut_extrude_8_sk1.sketch, amount=-CUT_EXTRUDE_8_REACH, mode=Mode.PRIVATE) & part.part
    # 草图15 → 切除-拉伸8 (cut, up to next)
    with BuildSketch(Plane(origin=(0, 0, 0), x_dir=(0, 0, -1), z_dir=(1, 0, 0)), mode=Mode.PRIVATE) as cut_extrude_8_sk2:
        with BuildLine():
            Line((17.5, -2), (15.677124344, -2))
            Line((15.677124344, -2), (15.677124344, -1.5))
            ThreePointArc((15.677124344, -1.5), (16.088161527, -1.780042303), (16.555590279, -1.95))
            Line((16.555590279, -1.95), (17.5, -1.95))
            Line((17.5, -1.95), (17.5, -2))
        make_face()
    cut_extrude_8_tool2 = extrude(cut_extrude_8_sk2.sketch, amount=-CUT_EXTRUDE_8_REACH, mode=Mode.PRIVATE) & part.part
    add(cut_extrude_8_tool1.solids().sort_by_distance((0, 1.873038, -16.175075))[0], mode=Mode.SUBTRACT)
    add(cut_extrude_8_tool2.solids().sort_by_distance((0, -1.873038, -16.175075))[0], mode=Mode.SUBTRACT)

    # 草图15 → 切除-拉伸8 direction 2 (cut, up to next)
    with BuildSketch(Plane(origin=(0, 0, 0), x_dir=(0, 0, -1), z_dir=(1, 0, 0)), mode=Mode.PRIVATE) as cut_extrude_8_direction_2_sk1:
        with BuildLine():
            Line((17.5, 2), (17.5, 1.95))
            Line((17.5, 1.95), (16.555590279, 1.95))
            ThreePointArc((16.555590279, 1.95), (16.088161527, 1.780042303), (15.677124344, 1.5))
            Line((15.677124344, 1.5), (15.677124344, 2))
            Line((15.677124344, 2), (17.5, 2))
        make_face()
    cut_extrude_8_direction_2_tool1 = extrude(cut_extrude_8_direction_2_sk1.sketch, amount=CUT_EXTRUDE_8_DIRECTION_2_REACH, mode=Mode.PRIVATE) & part.part
    # 草图15 → 切除-拉伸8 direction 2 (cut, up to next)
    with BuildSketch(Plane(origin=(0, 0, 0), x_dir=(0, 0, -1), z_dir=(1, 0, 0)), mode=Mode.PRIVATE) as cut_extrude_8_direction_2_sk2:
        with BuildLine():
            Line((17.5, -2), (15.677124344, -2))
            Line((15.677124344, -2), (15.677124344, -1.5))
            ThreePointArc((15.677124344, -1.5), (16.088161527, -1.780042303), (16.555590279, -1.95))
            Line((16.555590279, -1.95), (17.5, -1.95))
            Line((17.5, -1.95), (17.5, -2))
        make_face()
    cut_extrude_8_direction_2_tool2 = extrude(cut_extrude_8_direction_2_sk2.sketch, amount=CUT_EXTRUDE_8_DIRECTION_2_REACH, mode=Mode.PRIVATE) & part.part
    add(cut_extrude_8_direction_2_tool1.solids().sort_by_distance((0, 1.873038, -16.175075))[0], mode=Mode.SUBTRACT)
    add(cut_extrude_8_direction_2_tool2.solids().sort_by_distance((0, -1.873038, -16.175075))[0], mode=Mode.SUBTRACT)

    # 圆角2
    fillet_2_edges = [part.edges().sort_by_distance(p)[0] for p in [
        (0, 1.95, 2.5),
        (-1.95, 0, 2.5),
        (1.95, 0, 2.5),
        (0, -1.95, 2.5),
        (1.95, 0, -17.5),
        (-1.95, 0, -17.5),
        (0, -1.95, -17.5),
        (0, 1.95, -17.5),
    ]]
    fillet(fillet_2_edges, radius=FILLET_2_R)

    # 圆角3
    fillet_3_edges = [part.edges().sort_by_distance(p)[0] for p in [
        (7.5, -4.5, -15),
        (4.5, 7.5, -15),
        (-7.5, 4.5, -15),
        (4.5, 7.5, 0),
        (4.5, -7.5, -15),
        (4.5, -7.5, 0),
        (7.5, -4.5, 0),
        (0, -3.5, -15),
        (1.5, -7.161437828, -15),
        (1.5, -7.5, -7.5),
        (-1.5, -7.161437828, -15),
        (-1.5, -7.5, -7.5),
        (0, -3.5, 0),
        (-4.5, -7.5, 0),
        (-1.5, -7.161437828, 0),
        (1.5, -7.161437828, 0),
        (-7.5, 4.5, 0),
        (-7.5, -4.5, -15),
        (-7.5, -4.5, 0),
        (-3.5, 0, -15),
        (-7.161437828, -1.5, -15),
        (-7.161437828, 1.5, -15),
        (-3.5, 0, 0),
        (-7.161437828, 1.5, 0),
        (-7.161437828, -1.5, 0),
        (-4.5, -7.5, -15),
        (-4.5, 7.5, -15),
        (-4.5, 7.5, 0),
        (7.5, -7.5, -7.5),
        (-7.5, -7.5, -7.5),
        (0, 3.5, -15),
        (-1.5, 7.161437828, -15),
        (-1.5, 7.5, -7.5),
        (1.5, 7.161437828, -15),
        (1.5, 7.5, -7.5),
        (0, 3.5, 0),
        (1.5, 7.161437828, 0),
        (-1.5, 7.161437828, 0),
        (7.5, 4.5, -15),
        (7.5, 4.5, 0),
        (3.5, 0, -15),
        (7.161437828, 1.5, -15),
        (7.5, 1.5, -7.5),
        (7.161437828, -1.5, -15),
        (7.5, -1.5, -7.5),
        (3.5, 0, 0),
        (7.161437828, -1.5, 0),
        (7.161437828, 1.5, 0),
    ]]
    fillet(fillet_3_edges, radius=FILLET_3_R)


solid = part.part
